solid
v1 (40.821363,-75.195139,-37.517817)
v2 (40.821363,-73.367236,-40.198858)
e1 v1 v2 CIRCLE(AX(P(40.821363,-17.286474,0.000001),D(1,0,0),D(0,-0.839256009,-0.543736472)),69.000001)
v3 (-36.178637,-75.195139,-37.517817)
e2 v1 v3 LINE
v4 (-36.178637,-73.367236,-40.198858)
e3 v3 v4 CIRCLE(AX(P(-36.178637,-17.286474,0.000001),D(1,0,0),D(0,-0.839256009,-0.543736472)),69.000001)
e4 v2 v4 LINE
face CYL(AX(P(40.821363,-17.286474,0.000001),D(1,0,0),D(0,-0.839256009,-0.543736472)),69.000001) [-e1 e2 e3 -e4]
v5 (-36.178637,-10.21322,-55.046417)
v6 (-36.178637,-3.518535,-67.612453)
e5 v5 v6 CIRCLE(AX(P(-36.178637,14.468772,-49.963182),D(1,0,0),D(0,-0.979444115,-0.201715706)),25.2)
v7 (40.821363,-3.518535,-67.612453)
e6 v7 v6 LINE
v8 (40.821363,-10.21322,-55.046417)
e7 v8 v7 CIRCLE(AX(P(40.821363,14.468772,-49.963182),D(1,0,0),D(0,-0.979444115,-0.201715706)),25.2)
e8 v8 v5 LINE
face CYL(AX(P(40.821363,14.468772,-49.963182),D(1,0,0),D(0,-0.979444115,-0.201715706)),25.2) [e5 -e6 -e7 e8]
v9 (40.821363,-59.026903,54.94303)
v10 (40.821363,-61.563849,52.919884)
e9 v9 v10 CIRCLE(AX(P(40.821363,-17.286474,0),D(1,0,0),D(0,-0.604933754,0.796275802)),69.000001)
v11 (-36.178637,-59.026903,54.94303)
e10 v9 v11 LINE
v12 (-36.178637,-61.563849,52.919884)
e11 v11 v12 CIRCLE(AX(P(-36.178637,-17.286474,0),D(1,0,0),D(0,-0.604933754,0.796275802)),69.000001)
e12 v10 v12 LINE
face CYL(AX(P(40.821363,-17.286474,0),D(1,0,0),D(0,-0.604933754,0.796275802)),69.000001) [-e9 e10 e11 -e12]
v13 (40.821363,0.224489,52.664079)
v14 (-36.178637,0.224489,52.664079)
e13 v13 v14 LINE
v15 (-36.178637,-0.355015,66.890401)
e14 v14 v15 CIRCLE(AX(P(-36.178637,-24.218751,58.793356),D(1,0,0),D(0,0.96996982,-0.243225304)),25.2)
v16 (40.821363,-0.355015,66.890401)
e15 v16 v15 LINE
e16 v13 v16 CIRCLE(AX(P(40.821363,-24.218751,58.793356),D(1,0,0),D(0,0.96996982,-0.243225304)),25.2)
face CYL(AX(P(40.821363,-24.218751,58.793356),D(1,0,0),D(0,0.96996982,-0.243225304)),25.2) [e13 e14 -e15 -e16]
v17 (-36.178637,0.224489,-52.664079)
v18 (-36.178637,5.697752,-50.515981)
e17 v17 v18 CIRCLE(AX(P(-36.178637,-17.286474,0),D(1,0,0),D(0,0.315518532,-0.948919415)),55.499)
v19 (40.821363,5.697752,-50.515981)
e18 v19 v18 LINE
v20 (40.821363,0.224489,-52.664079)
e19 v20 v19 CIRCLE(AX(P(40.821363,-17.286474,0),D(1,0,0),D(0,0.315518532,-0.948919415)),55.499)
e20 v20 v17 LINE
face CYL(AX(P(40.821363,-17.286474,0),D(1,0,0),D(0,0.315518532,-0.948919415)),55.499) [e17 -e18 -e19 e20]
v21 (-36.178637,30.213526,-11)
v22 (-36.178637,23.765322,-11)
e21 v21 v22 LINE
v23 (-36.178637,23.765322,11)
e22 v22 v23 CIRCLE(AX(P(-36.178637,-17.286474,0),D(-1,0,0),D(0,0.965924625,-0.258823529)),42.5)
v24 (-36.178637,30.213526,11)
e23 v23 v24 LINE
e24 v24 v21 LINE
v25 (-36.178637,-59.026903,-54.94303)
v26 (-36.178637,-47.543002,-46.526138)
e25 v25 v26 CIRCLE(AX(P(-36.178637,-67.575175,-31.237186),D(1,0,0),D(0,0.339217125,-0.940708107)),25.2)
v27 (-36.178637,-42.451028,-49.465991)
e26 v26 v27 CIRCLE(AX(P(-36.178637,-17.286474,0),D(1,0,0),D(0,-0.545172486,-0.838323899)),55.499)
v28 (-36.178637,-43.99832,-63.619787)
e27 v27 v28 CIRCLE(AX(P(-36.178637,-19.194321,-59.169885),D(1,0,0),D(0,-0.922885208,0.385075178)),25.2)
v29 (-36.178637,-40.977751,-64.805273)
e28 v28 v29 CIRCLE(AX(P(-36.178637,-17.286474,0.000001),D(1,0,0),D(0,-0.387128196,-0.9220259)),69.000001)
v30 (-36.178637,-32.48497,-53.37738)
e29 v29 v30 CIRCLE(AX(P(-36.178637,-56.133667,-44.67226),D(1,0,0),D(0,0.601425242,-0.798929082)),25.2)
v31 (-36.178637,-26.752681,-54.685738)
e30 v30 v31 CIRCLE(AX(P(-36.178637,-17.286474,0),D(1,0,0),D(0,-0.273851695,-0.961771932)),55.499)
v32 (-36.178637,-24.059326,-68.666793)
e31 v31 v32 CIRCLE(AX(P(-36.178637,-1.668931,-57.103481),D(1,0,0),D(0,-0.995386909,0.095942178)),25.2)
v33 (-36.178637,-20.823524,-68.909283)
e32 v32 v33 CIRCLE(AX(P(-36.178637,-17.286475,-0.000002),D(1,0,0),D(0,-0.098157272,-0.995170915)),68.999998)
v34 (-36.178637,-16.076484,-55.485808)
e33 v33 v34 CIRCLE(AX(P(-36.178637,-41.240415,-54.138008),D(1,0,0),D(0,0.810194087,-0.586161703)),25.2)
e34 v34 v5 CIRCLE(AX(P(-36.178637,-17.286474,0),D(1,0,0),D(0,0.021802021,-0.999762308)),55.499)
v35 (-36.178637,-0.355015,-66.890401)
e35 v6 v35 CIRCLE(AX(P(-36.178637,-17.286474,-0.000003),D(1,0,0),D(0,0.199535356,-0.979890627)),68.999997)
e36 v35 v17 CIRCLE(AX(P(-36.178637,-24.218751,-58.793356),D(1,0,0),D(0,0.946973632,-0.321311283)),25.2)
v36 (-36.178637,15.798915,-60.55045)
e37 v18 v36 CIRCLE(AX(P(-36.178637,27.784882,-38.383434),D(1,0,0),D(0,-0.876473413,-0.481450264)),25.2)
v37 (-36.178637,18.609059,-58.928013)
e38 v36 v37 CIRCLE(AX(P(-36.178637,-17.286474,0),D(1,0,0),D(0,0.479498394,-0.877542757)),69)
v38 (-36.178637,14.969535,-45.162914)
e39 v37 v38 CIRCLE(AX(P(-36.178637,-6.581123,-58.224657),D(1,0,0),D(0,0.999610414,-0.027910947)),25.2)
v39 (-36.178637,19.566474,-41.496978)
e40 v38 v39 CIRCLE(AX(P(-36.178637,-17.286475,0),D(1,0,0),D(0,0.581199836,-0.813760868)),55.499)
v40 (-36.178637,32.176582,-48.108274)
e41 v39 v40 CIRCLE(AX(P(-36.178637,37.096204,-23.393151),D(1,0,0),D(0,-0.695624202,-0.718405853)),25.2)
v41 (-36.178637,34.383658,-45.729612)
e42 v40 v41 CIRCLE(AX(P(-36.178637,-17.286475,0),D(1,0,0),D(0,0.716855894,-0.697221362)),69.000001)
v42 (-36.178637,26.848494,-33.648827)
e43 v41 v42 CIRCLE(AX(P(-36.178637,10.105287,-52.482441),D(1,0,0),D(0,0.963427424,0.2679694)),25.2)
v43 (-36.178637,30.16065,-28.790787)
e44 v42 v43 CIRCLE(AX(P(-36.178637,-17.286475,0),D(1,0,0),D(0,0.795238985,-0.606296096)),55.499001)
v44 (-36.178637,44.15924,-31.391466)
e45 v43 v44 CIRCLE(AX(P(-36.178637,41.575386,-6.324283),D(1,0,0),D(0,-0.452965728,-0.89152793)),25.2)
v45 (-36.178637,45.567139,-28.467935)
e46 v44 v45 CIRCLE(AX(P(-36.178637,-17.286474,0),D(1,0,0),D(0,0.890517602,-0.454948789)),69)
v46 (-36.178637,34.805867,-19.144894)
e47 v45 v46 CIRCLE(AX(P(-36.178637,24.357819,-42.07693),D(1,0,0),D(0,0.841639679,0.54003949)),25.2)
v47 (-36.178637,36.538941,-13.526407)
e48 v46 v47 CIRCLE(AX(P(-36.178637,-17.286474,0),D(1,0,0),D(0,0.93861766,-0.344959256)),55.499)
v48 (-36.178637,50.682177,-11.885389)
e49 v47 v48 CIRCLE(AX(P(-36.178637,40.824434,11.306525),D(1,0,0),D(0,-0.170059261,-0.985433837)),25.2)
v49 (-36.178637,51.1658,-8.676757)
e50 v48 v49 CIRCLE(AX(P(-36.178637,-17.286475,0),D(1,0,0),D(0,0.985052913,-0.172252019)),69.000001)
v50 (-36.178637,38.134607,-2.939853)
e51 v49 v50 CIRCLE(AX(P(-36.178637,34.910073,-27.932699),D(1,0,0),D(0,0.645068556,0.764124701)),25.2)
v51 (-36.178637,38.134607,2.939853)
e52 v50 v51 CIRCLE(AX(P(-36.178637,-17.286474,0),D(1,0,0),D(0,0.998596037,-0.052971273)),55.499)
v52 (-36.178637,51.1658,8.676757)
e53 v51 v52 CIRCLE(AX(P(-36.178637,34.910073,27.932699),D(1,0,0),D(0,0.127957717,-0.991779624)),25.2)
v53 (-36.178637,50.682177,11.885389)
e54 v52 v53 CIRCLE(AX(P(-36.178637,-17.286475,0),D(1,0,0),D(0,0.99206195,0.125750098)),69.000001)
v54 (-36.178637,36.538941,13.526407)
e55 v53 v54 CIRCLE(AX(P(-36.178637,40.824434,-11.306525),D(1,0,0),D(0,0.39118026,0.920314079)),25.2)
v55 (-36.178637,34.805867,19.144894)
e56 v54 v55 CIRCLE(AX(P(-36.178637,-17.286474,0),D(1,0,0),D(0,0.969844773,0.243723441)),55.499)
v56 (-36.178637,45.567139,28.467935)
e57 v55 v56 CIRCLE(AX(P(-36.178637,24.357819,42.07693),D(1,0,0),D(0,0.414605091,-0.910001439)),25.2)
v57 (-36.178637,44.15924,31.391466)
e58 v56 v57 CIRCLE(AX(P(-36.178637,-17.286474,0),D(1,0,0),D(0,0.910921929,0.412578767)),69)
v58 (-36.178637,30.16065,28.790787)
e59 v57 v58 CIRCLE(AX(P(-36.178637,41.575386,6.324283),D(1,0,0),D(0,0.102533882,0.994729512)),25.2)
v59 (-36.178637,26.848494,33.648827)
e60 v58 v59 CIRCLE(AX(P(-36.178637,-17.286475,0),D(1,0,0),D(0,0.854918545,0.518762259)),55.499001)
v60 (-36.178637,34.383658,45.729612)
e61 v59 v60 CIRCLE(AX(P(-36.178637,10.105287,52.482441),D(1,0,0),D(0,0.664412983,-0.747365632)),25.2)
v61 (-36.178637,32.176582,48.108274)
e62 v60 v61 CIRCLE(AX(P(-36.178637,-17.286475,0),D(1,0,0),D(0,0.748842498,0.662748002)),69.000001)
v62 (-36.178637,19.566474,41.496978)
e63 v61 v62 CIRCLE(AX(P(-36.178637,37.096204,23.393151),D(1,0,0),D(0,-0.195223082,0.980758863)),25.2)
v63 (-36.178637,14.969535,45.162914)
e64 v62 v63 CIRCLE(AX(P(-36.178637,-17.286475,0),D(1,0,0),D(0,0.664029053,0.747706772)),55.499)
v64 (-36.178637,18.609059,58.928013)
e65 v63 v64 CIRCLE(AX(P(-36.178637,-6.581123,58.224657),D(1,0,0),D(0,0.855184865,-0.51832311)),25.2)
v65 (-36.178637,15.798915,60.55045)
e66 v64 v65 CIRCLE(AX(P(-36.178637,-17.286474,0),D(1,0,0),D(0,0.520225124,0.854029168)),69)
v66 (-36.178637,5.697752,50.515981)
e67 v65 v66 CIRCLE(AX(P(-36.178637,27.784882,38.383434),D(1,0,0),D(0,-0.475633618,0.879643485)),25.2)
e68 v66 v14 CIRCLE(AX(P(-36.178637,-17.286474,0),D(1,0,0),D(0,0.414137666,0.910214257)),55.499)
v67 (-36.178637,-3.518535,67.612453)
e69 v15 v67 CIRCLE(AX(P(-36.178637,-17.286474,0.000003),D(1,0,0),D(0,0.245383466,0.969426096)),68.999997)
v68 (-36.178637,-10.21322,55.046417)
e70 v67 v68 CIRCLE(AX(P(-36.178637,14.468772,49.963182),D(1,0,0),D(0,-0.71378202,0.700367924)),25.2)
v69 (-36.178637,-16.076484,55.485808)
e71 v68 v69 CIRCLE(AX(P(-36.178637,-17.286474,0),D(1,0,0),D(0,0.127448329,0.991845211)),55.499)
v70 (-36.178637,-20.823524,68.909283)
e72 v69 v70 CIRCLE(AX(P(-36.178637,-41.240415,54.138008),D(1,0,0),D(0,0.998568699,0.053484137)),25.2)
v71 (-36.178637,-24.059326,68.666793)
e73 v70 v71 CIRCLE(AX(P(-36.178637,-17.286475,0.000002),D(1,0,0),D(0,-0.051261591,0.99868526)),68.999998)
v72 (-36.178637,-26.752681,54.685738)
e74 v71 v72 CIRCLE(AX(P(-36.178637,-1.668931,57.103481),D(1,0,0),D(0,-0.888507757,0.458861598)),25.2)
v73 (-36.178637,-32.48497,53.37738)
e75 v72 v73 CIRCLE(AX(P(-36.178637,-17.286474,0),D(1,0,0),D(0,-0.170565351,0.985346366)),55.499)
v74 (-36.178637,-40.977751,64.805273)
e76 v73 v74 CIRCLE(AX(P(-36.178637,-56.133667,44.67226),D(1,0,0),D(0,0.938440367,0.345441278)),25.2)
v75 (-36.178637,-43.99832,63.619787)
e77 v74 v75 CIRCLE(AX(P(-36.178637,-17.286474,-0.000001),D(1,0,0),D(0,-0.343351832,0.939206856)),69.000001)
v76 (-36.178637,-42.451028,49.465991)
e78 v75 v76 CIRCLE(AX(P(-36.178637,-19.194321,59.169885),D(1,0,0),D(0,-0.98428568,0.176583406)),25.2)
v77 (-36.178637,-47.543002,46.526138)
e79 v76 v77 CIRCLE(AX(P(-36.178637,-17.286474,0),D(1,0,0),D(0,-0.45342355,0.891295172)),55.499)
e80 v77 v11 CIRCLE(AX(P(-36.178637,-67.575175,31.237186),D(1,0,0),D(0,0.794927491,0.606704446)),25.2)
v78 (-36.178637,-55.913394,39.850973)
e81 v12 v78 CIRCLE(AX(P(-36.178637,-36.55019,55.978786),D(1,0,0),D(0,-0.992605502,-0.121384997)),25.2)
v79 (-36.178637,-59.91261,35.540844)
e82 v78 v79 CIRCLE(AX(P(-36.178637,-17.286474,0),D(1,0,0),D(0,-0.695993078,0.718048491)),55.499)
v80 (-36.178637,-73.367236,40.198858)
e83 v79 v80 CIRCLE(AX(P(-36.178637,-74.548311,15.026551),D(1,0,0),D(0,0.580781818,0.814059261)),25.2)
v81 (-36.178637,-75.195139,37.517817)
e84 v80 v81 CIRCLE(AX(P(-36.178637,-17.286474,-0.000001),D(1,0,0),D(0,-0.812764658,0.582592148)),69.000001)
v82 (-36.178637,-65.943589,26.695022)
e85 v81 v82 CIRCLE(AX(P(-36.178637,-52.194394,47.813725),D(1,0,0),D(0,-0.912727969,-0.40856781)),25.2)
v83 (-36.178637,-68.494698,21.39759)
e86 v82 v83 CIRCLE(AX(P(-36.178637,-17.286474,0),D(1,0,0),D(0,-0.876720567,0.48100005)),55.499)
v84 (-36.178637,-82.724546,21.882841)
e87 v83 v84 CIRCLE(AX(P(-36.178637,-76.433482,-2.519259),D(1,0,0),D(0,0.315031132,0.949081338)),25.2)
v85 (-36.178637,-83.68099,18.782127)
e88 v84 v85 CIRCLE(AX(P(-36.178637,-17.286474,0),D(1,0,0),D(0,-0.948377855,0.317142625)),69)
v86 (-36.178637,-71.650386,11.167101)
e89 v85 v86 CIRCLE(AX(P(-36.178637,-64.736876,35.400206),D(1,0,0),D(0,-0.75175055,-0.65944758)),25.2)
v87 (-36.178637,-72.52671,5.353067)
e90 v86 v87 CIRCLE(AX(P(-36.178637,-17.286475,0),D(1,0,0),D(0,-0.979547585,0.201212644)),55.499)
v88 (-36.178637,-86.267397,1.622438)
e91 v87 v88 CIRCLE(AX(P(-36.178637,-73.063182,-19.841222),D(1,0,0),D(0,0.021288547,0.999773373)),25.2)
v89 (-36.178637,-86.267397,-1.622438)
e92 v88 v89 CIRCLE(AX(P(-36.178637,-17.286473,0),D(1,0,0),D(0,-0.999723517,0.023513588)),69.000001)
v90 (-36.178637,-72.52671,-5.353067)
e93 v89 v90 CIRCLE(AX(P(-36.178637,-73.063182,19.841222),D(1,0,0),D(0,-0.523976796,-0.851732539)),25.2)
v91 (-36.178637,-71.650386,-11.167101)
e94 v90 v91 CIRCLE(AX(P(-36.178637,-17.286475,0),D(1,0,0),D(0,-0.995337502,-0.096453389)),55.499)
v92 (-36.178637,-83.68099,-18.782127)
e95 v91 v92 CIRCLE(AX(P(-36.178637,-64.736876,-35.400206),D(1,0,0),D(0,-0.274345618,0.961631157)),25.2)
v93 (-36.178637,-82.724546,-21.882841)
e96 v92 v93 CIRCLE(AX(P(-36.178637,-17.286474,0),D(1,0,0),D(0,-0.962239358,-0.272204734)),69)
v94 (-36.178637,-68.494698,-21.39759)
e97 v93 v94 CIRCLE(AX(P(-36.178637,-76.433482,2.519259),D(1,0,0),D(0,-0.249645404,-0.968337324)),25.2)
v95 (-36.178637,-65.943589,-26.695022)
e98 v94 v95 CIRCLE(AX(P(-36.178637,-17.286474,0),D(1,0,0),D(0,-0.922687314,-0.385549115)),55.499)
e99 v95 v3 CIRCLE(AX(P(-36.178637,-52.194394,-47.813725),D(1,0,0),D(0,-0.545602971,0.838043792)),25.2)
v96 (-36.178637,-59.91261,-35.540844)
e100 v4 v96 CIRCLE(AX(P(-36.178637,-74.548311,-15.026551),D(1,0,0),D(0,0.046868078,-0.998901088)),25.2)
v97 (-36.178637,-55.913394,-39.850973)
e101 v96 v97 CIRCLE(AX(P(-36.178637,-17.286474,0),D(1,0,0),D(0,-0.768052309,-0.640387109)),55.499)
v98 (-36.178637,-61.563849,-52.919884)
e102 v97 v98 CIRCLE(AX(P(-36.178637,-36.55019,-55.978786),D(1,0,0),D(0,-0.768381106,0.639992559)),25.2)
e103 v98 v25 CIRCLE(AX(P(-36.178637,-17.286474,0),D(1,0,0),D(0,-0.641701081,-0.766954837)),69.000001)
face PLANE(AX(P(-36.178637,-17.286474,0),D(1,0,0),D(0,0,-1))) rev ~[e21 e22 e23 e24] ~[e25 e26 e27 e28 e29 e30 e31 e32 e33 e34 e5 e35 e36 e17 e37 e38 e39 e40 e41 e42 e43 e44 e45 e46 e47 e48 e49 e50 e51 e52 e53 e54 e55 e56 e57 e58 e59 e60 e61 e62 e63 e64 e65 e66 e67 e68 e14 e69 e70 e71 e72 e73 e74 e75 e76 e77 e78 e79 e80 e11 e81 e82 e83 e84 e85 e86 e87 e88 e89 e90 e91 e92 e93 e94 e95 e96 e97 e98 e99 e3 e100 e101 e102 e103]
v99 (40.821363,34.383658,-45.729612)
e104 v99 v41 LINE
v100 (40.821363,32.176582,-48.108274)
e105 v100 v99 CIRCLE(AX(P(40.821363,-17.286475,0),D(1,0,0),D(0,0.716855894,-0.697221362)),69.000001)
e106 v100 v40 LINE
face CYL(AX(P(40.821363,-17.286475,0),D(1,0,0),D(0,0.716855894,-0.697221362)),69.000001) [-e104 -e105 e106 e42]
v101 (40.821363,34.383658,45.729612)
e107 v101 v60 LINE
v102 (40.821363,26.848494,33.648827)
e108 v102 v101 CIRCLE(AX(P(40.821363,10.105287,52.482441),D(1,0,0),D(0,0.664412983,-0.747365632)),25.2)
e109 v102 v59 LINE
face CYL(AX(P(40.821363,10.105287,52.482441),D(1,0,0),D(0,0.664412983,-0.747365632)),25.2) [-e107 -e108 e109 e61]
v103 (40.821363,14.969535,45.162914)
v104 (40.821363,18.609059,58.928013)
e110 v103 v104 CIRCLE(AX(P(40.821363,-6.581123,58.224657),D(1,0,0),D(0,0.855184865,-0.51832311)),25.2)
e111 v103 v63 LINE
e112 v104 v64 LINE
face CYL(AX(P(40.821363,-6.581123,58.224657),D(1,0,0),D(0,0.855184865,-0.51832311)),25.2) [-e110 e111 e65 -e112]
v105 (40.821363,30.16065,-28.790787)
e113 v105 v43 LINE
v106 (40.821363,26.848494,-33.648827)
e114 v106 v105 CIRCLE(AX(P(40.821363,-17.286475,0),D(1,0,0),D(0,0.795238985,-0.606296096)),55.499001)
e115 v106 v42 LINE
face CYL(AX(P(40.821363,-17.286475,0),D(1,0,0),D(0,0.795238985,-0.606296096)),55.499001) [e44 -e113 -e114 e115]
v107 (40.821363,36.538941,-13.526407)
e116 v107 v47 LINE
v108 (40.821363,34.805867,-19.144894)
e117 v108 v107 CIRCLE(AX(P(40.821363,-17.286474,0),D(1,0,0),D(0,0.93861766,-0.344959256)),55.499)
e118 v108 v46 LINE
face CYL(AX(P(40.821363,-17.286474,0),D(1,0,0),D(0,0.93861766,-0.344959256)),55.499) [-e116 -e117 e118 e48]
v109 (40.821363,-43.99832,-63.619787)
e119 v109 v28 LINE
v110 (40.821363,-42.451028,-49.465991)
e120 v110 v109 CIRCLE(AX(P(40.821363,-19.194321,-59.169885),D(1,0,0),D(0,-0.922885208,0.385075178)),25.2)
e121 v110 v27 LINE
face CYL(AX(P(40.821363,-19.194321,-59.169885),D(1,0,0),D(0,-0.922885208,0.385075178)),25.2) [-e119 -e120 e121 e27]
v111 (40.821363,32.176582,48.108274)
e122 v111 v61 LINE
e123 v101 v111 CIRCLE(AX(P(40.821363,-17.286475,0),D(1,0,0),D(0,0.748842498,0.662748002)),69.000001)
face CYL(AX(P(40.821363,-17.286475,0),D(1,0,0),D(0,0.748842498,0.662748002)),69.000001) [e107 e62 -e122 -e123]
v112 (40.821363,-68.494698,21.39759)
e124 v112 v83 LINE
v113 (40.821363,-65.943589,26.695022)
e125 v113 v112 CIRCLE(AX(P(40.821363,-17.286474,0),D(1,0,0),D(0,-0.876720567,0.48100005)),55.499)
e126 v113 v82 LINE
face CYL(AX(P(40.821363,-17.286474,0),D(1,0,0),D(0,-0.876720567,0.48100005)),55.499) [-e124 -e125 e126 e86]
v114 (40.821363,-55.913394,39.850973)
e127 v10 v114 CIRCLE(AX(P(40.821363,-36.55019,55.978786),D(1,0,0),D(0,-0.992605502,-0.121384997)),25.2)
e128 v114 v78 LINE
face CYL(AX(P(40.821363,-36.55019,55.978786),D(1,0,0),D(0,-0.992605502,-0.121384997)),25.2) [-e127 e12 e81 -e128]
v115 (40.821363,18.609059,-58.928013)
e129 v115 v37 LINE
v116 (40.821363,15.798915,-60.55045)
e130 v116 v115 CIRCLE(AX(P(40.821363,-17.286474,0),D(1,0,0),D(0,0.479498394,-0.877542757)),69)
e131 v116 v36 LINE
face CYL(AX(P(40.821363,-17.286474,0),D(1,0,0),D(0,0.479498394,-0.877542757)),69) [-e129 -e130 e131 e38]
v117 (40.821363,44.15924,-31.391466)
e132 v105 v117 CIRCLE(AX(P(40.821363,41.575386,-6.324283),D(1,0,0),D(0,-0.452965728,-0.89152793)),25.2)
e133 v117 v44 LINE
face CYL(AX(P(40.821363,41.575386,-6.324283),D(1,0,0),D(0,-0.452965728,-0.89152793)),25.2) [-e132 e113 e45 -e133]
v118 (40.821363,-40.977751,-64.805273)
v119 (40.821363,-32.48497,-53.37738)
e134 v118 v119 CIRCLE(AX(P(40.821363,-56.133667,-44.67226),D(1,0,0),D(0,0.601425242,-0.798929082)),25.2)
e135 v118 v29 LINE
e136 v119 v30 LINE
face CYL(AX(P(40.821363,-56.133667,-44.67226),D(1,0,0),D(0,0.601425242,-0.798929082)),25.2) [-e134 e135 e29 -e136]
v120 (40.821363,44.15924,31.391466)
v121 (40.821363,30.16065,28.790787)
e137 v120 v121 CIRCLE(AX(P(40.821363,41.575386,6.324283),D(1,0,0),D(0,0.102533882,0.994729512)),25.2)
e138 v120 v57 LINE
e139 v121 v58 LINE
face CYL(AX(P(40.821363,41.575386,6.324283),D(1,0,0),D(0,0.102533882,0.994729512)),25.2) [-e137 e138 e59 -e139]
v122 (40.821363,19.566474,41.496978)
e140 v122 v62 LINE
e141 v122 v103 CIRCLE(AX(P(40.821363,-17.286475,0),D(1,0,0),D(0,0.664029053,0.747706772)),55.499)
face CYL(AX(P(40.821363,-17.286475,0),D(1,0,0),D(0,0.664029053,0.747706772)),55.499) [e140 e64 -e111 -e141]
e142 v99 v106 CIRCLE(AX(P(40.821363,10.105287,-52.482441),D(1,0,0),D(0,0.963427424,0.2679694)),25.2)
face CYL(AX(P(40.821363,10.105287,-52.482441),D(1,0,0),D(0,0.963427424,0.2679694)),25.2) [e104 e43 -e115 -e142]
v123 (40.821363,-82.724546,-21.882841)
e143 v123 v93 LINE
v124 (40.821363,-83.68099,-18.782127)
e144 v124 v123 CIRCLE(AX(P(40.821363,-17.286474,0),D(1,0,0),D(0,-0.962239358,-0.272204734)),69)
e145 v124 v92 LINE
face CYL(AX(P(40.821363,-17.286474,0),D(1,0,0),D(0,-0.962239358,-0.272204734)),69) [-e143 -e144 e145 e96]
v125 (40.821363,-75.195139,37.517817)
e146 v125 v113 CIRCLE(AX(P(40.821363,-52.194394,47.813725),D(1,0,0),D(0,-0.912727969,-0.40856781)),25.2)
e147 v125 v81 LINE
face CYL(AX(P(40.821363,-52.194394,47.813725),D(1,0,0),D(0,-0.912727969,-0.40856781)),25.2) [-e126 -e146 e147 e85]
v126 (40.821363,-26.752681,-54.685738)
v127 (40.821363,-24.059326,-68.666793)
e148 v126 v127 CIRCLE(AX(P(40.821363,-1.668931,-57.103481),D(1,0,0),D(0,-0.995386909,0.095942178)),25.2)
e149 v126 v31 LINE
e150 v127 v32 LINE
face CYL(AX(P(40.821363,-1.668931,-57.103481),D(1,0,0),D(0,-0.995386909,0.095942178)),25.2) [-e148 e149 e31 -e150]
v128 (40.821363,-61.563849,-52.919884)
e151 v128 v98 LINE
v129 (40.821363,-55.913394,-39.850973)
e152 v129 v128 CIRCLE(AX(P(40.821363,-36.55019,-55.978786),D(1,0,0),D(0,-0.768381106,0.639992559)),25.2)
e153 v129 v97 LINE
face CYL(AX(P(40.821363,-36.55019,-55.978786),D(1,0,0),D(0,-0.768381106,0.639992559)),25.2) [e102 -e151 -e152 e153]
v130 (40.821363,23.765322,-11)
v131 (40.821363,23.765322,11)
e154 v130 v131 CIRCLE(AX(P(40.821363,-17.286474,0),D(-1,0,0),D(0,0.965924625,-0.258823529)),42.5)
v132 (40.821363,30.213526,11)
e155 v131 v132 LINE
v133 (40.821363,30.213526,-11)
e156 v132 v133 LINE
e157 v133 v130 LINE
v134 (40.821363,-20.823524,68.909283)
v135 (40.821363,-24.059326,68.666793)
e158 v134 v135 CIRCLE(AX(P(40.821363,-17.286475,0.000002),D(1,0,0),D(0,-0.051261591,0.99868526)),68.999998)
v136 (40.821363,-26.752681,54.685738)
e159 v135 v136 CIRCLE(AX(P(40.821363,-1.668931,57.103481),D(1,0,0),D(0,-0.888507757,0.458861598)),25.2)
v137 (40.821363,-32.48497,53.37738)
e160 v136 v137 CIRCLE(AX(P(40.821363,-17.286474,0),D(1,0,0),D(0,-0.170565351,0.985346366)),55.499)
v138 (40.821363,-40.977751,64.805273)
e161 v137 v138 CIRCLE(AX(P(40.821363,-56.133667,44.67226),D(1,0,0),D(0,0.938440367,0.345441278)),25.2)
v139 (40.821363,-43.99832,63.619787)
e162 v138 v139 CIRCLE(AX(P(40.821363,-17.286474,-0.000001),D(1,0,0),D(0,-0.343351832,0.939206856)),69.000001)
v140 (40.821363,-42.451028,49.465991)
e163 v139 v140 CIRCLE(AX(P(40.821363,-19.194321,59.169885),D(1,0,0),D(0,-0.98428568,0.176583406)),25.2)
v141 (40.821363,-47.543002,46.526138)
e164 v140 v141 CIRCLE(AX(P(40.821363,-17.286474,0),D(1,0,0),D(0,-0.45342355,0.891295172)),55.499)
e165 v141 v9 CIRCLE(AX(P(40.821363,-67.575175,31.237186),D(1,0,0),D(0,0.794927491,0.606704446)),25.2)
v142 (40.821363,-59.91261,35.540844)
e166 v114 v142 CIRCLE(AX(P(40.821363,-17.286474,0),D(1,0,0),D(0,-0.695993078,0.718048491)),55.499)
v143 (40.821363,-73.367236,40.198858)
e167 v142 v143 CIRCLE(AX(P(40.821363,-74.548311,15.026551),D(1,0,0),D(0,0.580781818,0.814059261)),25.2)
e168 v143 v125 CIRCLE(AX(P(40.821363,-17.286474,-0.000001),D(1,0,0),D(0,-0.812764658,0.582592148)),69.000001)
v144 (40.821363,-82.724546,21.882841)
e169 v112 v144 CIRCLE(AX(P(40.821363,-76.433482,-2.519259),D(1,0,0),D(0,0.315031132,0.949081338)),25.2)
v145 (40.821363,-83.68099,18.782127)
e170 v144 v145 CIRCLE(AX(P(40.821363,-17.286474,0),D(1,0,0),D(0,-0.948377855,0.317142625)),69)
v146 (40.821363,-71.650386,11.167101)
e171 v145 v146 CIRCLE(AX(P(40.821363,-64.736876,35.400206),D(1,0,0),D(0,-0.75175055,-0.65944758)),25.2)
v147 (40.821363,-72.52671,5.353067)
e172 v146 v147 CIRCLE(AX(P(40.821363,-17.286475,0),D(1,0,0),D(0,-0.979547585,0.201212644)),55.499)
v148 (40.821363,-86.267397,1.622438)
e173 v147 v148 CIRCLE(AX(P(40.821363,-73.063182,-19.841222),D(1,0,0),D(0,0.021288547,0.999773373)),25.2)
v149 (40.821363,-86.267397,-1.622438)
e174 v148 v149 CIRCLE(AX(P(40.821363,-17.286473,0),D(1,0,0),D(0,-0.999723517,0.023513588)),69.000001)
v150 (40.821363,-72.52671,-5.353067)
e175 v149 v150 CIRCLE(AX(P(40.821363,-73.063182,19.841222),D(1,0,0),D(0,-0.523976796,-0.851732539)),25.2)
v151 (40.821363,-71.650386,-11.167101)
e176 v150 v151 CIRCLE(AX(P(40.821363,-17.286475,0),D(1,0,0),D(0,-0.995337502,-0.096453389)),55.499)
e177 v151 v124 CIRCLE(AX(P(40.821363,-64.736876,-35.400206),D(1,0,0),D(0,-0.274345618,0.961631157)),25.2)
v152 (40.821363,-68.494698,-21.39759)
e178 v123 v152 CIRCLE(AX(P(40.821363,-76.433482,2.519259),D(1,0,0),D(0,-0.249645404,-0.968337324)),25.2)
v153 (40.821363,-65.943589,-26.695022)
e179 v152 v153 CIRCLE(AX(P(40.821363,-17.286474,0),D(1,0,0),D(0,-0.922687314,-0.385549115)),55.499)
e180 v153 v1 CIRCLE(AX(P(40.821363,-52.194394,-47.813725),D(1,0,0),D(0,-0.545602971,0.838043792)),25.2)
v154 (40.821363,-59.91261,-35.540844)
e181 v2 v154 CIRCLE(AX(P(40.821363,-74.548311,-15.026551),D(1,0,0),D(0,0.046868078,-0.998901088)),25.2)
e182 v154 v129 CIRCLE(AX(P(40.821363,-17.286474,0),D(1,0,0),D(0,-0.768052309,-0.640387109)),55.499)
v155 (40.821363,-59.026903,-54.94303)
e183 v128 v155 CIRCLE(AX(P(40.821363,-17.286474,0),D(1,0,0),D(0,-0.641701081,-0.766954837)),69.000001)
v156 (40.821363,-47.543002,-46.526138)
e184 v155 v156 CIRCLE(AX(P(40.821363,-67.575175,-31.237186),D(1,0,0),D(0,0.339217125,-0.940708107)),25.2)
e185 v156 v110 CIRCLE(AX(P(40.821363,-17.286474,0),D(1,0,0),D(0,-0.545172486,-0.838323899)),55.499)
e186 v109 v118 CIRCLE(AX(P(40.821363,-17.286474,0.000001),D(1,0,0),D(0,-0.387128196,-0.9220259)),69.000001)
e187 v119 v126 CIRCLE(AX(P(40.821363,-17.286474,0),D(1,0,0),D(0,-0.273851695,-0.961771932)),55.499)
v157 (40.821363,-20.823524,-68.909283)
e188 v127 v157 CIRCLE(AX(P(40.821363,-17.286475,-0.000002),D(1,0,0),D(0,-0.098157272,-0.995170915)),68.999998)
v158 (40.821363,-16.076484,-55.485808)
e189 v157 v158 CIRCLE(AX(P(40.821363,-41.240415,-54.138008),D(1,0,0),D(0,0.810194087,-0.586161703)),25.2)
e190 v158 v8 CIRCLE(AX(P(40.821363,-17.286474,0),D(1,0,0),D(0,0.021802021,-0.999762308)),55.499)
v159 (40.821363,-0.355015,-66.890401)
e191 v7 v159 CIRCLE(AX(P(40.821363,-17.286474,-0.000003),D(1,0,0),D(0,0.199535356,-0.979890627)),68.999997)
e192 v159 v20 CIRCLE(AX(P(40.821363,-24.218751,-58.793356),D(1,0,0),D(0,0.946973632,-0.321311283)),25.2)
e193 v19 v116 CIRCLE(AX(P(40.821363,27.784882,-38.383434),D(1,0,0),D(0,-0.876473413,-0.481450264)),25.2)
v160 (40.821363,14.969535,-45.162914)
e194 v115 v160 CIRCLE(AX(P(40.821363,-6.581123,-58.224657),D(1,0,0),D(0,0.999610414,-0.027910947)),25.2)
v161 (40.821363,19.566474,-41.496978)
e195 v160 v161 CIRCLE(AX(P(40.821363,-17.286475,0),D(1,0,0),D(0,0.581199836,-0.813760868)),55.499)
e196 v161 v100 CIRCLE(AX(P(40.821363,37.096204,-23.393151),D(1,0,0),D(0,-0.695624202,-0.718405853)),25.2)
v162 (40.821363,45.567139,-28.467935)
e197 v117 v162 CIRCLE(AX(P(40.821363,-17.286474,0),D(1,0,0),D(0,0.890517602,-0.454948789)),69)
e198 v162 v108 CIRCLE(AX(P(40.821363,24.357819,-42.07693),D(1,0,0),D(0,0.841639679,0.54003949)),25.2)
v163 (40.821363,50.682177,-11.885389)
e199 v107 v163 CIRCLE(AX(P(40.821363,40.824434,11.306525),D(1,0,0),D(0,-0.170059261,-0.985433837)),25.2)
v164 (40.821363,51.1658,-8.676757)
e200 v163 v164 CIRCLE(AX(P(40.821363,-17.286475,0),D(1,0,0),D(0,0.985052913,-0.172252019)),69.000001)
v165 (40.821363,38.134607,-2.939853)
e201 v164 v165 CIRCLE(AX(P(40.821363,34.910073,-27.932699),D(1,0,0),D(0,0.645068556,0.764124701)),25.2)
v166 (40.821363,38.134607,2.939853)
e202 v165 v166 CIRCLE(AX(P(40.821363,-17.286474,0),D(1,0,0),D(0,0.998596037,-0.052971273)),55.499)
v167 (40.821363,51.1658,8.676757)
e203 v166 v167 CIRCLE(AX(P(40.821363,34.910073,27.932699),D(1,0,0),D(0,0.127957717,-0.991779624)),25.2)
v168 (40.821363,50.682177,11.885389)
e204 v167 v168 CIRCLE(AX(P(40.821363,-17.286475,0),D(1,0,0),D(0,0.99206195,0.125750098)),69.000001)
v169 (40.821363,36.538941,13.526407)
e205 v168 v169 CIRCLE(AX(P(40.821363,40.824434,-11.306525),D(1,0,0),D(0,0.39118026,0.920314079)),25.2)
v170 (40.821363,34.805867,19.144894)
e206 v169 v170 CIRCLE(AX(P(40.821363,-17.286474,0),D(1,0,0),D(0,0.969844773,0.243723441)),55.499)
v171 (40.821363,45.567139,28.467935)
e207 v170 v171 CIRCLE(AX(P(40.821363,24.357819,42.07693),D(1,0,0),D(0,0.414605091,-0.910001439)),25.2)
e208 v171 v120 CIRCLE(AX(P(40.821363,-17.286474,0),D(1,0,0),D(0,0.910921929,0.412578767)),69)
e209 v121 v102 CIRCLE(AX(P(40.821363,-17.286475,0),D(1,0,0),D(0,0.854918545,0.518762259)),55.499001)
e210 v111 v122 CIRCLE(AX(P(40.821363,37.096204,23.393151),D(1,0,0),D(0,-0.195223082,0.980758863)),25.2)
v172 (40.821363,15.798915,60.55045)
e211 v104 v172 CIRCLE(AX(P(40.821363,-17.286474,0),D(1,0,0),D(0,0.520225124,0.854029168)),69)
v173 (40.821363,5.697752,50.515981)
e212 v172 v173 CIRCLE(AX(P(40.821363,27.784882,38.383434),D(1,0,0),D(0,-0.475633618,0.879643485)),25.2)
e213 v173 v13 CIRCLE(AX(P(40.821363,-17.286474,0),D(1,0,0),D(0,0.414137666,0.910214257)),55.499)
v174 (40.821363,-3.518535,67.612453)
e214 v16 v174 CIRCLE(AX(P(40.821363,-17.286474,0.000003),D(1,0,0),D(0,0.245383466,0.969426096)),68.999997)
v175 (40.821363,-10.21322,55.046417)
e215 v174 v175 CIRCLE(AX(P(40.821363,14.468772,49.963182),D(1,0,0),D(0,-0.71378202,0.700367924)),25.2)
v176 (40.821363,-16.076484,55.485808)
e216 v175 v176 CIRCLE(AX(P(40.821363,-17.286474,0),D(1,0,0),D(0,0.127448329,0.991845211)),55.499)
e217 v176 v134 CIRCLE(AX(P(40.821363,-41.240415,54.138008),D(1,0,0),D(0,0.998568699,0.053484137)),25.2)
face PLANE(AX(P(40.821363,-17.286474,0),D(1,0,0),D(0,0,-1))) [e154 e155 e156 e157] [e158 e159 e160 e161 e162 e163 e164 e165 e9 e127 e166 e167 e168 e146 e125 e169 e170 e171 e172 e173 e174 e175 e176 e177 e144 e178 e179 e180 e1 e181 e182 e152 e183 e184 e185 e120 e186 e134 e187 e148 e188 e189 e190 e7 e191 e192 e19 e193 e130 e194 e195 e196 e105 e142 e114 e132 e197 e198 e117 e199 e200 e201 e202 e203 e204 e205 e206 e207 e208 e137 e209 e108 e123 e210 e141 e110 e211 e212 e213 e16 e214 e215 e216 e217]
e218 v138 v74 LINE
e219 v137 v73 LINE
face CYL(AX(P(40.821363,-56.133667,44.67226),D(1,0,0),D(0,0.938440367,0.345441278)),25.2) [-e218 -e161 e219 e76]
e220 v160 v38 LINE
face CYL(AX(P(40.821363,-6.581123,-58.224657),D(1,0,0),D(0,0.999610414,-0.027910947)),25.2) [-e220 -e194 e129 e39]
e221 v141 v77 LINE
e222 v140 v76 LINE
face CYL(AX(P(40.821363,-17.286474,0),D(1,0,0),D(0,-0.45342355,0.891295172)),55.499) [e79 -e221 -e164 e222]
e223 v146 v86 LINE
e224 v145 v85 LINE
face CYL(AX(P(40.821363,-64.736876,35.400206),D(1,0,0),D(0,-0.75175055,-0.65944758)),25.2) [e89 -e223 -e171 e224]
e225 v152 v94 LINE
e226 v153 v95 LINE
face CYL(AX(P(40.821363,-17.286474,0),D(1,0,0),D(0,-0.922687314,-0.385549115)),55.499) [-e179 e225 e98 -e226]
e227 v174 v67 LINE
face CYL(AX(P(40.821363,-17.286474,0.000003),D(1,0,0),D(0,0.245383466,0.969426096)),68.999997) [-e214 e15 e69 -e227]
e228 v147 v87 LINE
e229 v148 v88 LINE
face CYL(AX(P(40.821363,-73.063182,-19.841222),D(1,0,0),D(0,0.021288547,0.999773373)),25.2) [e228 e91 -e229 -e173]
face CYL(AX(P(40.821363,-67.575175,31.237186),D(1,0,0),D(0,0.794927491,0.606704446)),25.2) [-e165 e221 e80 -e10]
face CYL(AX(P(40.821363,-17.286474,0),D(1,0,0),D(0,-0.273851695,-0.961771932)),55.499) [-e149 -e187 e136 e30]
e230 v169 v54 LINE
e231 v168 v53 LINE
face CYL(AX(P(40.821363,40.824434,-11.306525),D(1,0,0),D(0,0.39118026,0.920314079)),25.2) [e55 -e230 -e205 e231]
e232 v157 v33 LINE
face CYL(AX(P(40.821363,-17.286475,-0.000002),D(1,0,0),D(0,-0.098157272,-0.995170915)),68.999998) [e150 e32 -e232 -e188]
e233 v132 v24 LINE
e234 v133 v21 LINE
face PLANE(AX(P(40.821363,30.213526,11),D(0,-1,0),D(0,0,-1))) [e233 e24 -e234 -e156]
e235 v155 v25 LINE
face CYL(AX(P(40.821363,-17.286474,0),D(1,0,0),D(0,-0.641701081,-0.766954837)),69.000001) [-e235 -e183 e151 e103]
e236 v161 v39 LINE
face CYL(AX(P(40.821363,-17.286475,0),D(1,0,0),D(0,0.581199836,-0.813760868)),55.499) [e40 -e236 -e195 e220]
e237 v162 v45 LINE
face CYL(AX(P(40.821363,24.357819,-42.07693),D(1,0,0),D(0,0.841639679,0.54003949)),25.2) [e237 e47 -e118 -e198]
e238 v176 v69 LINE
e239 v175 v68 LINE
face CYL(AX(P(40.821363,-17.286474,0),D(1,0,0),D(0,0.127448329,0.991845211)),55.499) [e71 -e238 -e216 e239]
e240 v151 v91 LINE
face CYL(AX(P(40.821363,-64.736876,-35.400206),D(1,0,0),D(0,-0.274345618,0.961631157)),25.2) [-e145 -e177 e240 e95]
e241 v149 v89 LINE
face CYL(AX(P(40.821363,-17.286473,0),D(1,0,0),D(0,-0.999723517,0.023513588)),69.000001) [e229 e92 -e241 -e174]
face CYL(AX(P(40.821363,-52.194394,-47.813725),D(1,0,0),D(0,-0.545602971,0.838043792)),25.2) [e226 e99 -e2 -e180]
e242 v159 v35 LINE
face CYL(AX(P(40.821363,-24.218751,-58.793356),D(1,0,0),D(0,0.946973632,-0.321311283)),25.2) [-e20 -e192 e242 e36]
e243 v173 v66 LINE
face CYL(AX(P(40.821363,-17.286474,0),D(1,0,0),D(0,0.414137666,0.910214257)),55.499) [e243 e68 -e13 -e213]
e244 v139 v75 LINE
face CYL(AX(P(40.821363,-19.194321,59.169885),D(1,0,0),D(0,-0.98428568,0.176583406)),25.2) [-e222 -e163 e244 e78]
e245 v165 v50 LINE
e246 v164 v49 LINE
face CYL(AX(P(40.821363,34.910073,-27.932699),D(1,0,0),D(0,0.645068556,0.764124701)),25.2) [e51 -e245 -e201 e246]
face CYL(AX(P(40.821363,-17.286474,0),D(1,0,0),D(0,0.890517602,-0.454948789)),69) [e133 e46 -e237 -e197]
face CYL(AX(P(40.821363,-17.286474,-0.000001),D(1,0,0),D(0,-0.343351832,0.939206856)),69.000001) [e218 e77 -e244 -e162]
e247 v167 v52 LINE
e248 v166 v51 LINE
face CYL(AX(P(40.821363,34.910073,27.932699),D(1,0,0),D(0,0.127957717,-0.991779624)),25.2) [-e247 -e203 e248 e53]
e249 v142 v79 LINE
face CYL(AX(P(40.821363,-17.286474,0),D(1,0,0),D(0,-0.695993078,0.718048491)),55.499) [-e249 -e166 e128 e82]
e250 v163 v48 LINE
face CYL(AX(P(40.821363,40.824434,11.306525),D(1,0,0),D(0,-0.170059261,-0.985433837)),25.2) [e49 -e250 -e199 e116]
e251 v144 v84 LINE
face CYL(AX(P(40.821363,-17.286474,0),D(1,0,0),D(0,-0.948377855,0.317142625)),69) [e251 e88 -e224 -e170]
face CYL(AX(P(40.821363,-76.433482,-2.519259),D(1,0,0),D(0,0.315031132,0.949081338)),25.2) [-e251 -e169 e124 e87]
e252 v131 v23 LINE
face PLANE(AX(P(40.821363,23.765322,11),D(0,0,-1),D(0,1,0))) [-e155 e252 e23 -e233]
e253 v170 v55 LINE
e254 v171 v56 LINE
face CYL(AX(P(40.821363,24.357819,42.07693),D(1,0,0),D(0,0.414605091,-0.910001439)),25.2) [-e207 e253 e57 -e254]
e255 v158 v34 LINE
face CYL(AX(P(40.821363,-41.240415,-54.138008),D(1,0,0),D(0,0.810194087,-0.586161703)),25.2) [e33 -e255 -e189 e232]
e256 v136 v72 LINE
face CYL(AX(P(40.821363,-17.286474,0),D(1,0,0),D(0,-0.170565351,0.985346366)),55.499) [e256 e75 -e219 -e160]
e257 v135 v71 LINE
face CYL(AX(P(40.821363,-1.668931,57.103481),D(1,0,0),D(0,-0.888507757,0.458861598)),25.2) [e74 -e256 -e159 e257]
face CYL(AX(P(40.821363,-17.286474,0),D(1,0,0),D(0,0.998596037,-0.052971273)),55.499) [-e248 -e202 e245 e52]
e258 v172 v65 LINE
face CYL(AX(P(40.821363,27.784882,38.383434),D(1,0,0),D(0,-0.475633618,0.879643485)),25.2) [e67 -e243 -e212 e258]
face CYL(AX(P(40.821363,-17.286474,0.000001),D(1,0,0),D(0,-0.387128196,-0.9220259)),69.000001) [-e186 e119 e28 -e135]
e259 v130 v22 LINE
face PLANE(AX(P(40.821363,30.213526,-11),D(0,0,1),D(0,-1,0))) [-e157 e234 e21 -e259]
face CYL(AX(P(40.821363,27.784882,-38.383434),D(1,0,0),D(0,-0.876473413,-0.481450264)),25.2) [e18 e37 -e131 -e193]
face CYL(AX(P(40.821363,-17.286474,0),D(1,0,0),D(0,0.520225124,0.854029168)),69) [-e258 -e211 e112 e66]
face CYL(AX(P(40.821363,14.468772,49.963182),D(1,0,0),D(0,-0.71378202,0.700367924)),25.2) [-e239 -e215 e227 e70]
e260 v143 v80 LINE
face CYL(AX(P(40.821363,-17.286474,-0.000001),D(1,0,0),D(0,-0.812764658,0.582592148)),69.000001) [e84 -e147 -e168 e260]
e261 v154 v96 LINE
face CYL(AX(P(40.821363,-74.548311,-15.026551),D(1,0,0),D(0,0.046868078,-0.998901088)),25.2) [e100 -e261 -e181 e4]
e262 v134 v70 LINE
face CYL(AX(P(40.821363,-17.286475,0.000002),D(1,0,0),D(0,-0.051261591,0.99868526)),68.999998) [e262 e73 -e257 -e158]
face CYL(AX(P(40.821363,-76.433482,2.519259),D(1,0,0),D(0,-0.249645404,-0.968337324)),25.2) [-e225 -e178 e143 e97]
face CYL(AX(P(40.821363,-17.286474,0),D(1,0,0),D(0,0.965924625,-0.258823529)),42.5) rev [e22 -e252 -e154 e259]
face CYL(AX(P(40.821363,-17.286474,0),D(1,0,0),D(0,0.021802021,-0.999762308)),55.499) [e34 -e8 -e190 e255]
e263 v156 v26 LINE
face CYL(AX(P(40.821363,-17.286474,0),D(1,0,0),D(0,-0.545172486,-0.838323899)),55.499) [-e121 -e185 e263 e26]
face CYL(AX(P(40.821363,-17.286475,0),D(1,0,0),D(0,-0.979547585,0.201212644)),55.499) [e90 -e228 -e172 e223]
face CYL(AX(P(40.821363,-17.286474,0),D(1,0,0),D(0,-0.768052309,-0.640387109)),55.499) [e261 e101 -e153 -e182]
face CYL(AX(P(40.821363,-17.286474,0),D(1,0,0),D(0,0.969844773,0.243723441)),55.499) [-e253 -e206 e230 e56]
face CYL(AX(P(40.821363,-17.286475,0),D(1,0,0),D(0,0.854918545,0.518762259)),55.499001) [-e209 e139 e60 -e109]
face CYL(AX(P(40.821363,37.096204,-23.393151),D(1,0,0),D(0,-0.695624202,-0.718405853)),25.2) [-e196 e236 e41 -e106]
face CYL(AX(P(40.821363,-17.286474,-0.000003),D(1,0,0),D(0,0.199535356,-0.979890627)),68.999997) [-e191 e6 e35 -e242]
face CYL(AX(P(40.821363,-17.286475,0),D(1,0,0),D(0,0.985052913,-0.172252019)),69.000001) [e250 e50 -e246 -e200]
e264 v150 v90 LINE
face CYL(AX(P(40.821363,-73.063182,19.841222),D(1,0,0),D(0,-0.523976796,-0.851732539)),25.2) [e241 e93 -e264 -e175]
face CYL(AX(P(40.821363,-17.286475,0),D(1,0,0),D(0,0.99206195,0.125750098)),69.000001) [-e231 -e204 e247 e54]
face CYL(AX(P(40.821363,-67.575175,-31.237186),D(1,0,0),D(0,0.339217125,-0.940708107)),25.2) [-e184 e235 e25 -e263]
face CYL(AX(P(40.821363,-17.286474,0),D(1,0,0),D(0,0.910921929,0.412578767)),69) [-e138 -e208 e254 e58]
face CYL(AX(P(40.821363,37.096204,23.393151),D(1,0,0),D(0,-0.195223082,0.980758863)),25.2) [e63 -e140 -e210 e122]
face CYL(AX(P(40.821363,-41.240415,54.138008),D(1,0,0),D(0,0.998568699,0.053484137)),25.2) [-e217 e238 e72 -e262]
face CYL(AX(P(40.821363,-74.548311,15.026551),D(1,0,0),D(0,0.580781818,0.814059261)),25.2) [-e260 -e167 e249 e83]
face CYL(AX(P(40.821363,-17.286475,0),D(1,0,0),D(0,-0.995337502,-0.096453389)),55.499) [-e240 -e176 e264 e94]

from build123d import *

# Parameters (mm, degrees)
BOSS_EXTRU_1_DEPTH = 77


with BuildPart() as part:
    # Esquisse1 → Boss.-Extru.1 (new body)
    with BuildSketch(Plane(origin=(40.821362871, 0, 0), x_dir=(0, 0, -1), z_dir=(1, 0, 0))):
        with BuildLine():
            ThreePointArc((-67.612453277, -3.518534748), (-61.812081339, -7.771811815), (-55.046417386, -10.213219545))
            ThreePointArc((-55.046417386, -10.213219545), (-55.34381354, -13.139028919), (-55.485808315, -16.076484017))
            ThreePointArc((-55.485808315, -16.076484017), (-62.539778332, -17.482253352), (-68.909282961, -20.82352425))
            ThreePointArc((-68.909282961, -20.82352425), (-68.807062006, -22.442850841), (-68.666793133, -24.059326134))
            ThreePointArc((-68.666793133, -24.059326134), (-61.870440021, -26.413952393), (-54.685737973, -26.752680769))
            ThreePointArc((-54.685737973, -26.752680769), (-54.107524198, -29.636163697), (-53.377380454, -32.484969601))
            ThreePointArc((-53.377380454, -32.484969601), (-59.70360459, -35.907478712), (-64.805273114, -40.977750767))
            ThreePointArc((-64.805273114, -40.977750767), (-64.230288656, -42.495005065), (-63.619787079, -43.99831992))
            ThreePointArc((-63.619787079, -43.99831992), (-56.431338594, -44.245076494), (-49.465990757, -42.451028013))
            ThreePointArc((-49.465990757, -42.451028013), (-48.063543885, -45.035974383), (-46.526138097, -47.543002188))
            ThreePointArc((-46.526138097, -47.543002188), (-51.562503575, -52.67814612), (-54.943030357, -59.026903409))
            ThreePointArc((-54.943030357, -59.026903409), (-53.94637229, -60.307270712), (-52.919883753, -61.563849007))
            ThreePointArc((-52.919883753, -61.563849007), (-45.978065087, -59.680810492), (-39.850973185, -55.913394235))
            ThreePointArc((-39.850973185, -55.913394235), (-37.748906774, -57.970120218), (-35.540844194, -59.9126095))
            ThreePointArc((-35.540844194, -59.9126095), (-38.839847839, -66.30410818), (-40.198858239, -73.367235757))
            ThreePointArc((-40.198858239, -73.367235757), (-38.869084006, -74.296949811), (-37.51781652, -75.195139051))
            ThreePointArc((-37.51781652, -75.195139051), (-31.439438727, -71.349621682), (-26.695021762, -65.943589116))
            ThreePointArc((-26.695021762, -65.943589116), (-24.080113637, -67.289345583), (-21.397590315, -68.494697646))
            ThreePointArc((-21.397590315, -68.494697646), (-22.666101177, -75.574638368), (-21.882841157, -82.724546352))
            ThreePointArc((-21.882841157, -82.724546352), (-20.338107034, -83.220997983), (-18.782126645, -83.680990111))
            ThreePointArc((-18.782126645, -83.680990111), (-14.107280265, -78.214684982), (-11.167100506, -71.650385825))
            ThreePointArc((-11.167100506, -71.650385825), (-8.271696731, -72.165596408), (-5.353066636, -72.526710431))
            ThreePointArc((-5.353066636, -72.526710431), (-4.478371957, -79.666009392), (-1.622437607, -86.267397081))
            ThreePointArc((-1.622437607, -86.267397081), (0, -86.286474383), (1.622437607, -86.267397081))
            ThreePointArc((1.622437607, -86.267397081), (4.478371957, -79.666009392), (5.353066636, -72.526710431))
            ThreePointArc((5.353066636, -72.526710431), (8.271696731, -72.165596408), (11.167100506, -71.650385825))
            ThreePointArc((11.167100506, -71.650385825), (14.107280265, -78.214684982), (18.782126645, -83.680990111))
            ThreePointArc((18.782126645, -83.680990111), (20.338107034, -83.220997983), (21.882841157, -82.724546352))
            ThreePointArc((21.882841157, -82.724546352), (22.666101177, -75.574638368), (21.397590315, -68.494697646))
            ThreePointArc((21.397590315, -68.494697646), (24.080113637, -67.289345583), (26.695021762, -65.943589116))
            ThreePointArc((26.695021762, -65.943589116), (31.439438727, -71.349621682), (37.51781652, -75.195139051))
            ThreePointArc((37.51781652, -75.195139051), (38.869084006, -74.296949811), (40.198858239, -73.367235757))
            ThreePointArc((40.198858239, -73.367235757), (38.839847839, -66.30410818), (35.540844194, -59.9126095))
            ThreePointArc((35.540844194, -59.9126095), (37.748906774, -57.970120218), (39.850973185, -55.913394235))
            ThreePointArc((39.850973185, -55.913394235), (45.978065087, -59.680810492), (52.919883753, -61.563849007))
            ThreePointArc((52.919883753, -61.563849007), (53.94637229, -60.307270712), (54.943030357, -59.026903409))
            ThreePointArc((54.943030357, -59.026903409), (51.562503575, -52.67814612), (46.526138097, -47.543002188))
            ThreePointArc((46.526138097, -47.543002188), (48.063543885, -45.035974383), (49.465990757, -42.451028013))
            ThreePointArc((49.465990757, -42.451028013), (56.431338594, -44.245076494), (63.619787079, -43.99831992))
            ThreePointArc((63.619787079, -43.99831992), (64.230288656, -42.495005065), (64.805273114, -40.977750767))
            ThreePointArc((64.805273114, -40.977750767), (59.70360459, -35.907478712), (53.377380454, -32.484969601))
            ThreePointArc((53.377380454, -32.484969601), (54.107524198, -29.636163697), (54.685737973, -26.752680769))
            ThreePointArc((54.685737973, -26.752680769), (61.870440021, -26.413952393), (68.666793133, -24.059326134))
            ThreePointArc((68.666793133, -24.059326134), (68.807062006, -22.442850841), (68.909282961, -20.82352425))
            ThreePointArc((68.909282961, -20.82352425), (62.539778332, -17.482253352), (55.485808315, -16.076484017))
            ThreePointArc((55.485808315, -16.076484017), (55.34381354, -13.139028919), (55.046417386, -10.213219545))
            ThreePointArc((55.046417386, -10.213219545), (61.812081339, -7.771811815), (67.612453277, -3.518534748))
            ThreePointArc((67.612453277, -3.518534748), (67.270025941, -1.93252994), (66.890400614, -0.355015331))
            ThreePointArc((66.890400614, -0.355015331), (59.819018318, 0.960367828), (52.664078611, 0.224488613))
            ThreePointArc((52.664078611, 0.224488613), (51.662562176, 2.989587128), (50.515981046, 5.697751946))
            ThreePointArc((50.515981046, 5.697751946), (56.261447972, 10.024909239), (60.550450236, 15.798914782))
            ThreePointArc((60.550450236, 15.798914782), (59.755752861, 17.213525617), (58.928012629, 18.609059149))
            ThreePointArc((58.928012629, 18.609059149), (51.783076015, 17.781677003), (45.16291441, 14.969535335))
            ThreePointArc((45.16291441, 14.969535335), (43.390865445, 17.31658613), (41.496978105, 19.566474063))
            ThreePointArc((41.496978105, 19.566474063), (45.711738053, 25.394894004), (48.10827397, 32.176582292))
            ThreePointArc((48.10827397, 32.176582292), (46.931918906, 33.294104773), (45.729612121, 34.383657949))
            ThreePointArc((45.729612121, 34.383657949), (39.145980162, 31.487027033), (33.64882707, 26.848494041))
            ThreePointArc((33.64882707, 26.848494041), (31.263699902, 28.568951352), (28.790786553, 30.160649984))
            ThreePointArc((28.790786553, 30.160649984), (31.100339606, 36.972451884), (31.391466441, 44.159240151))
            ThreePointArc((31.391466441, 44.159240151), (29.937977999, 44.880377502), (28.467934894, 45.567138742))
            ThreePointArc((28.467934894, 45.567138742), (23.030592182, 40.858637423), (19.14489378, 34.805867119))
            ThreePointArc((19.14489378, 34.805867119), (16.358617425, 35.746860765), (13.526407269, 36.538940686))
            ThreePointArc((13.526407269, 36.538940686), (13.725539503, 43.728866053), (11.885389361, 50.682176624))
            ThreePointArc((11.885389361, 50.682176624), (10.283916366, 50.942852626), (8.676756723, 51.165800179))
            ThreePointArc((8.676756723, 51.165800179), (4.868835019, 45.063799464), (2.93985266, 38.134607051))
            ThreePointArc((2.93985266, 38.134607051), (0, 38.212525617), (-2.93985266, 38.134607051))
            ThreePointArc((-2.93985266, 38.134607051), (-4.868835019, 45.063799464), (-8.676756723, 51.165800179))
            ThreePointArc((-8.676756723, 51.165800179), (-10.283916366, 50.942852626), (-11.885389361, 50.682176624))
            ThreePointArc((-11.885389361, 50.682176624), (-13.725539503, 43.728866053), (-13.526407269, 36.538940686))
            ThreePointArc((-13.526407269, 36.538940686), (-16.358617425, 35.746860765), (-19.14489378, 34.805867119))
            ThreePointArc((-19.14489378, 34.805867119), (-23.030592182, 40.858637423), (-28.467934894, 45.567138742))
            ThreePointArc((-28.467934894, 45.567138742), (-29.937977999, 44.880377502), (-31.391466441, 44.159240151))
            ThreePointArc((-31.391466441, 44.159240151), (-31.100339606, 36.972451884), (-28.790786553, 30.160649984))
            ThreePointArc((-28.790786553, 30.160649984), (-31.263699902, 28.568951352), (-33.64882707, 26.848494041))
            ThreePointArc((-33.64882707, 26.848494041), (-39.145980162, 31.487027033), (-45.729612121, 34.383657949))
            ThreePointArc((-45.729612121, 34.383657949), (-46.931918906, 33.294104773), (-48.10827397, 32.176582292))
            ThreePointArc((-48.10827397, 32.176582292), (-45.711738053, 25.394894004), (-41.496978105, 19.566474063))
            ThreePointArc((-41.496978105, 19.566474063), (-43.390865445, 17.31658613), (-45.16291441, 14.969535335))
            ThreePointArc((-45.16291441, 14.969535335), (-51.783076015, 17.781677003), (-58.928012629, 18.609059149))
            ThreePointArc((-58.928012629, 18.609059149), (-59.755752861, 17.213525617), (-60.550450236, 15.798914782))
            ThreePointArc((-60.550450236, 15.798914782), (-56.261447972, 10.024909239), (-50.515981046, 5.697751946))
            ThreePointArc((-50.515981046, 5.697751946), (-51.662562176, 2.989587128), (-52.664078611, 0.224488613))
            ThreePointArc((-52.664078611, 0.224488613), (-59.819018318, 0.960367828), (-66.890400614, -0.355015331))
            ThreePointArc((-66.890400614, -0.355015331), (-67.270025941, -1.93252994), (-67.612453277, -3.518534748))
        make_face()
        with BuildLine():
            Line((-11, 30.213525617), (11, 30.213525617))
            Line((11, 30.213525617), (11, 23.765322167))
            ThreePointArc((11, 23.765322167), (0, -59.786474383), (-11, 23.765322167))
            Line((-11, 23.765322167), (-11, 30.213525617))
        make_face(mode=Mode.SUBTRACT)
    extrude(amount=-BOSS_EXTRU_1_DEPTH)


solid = part.part
